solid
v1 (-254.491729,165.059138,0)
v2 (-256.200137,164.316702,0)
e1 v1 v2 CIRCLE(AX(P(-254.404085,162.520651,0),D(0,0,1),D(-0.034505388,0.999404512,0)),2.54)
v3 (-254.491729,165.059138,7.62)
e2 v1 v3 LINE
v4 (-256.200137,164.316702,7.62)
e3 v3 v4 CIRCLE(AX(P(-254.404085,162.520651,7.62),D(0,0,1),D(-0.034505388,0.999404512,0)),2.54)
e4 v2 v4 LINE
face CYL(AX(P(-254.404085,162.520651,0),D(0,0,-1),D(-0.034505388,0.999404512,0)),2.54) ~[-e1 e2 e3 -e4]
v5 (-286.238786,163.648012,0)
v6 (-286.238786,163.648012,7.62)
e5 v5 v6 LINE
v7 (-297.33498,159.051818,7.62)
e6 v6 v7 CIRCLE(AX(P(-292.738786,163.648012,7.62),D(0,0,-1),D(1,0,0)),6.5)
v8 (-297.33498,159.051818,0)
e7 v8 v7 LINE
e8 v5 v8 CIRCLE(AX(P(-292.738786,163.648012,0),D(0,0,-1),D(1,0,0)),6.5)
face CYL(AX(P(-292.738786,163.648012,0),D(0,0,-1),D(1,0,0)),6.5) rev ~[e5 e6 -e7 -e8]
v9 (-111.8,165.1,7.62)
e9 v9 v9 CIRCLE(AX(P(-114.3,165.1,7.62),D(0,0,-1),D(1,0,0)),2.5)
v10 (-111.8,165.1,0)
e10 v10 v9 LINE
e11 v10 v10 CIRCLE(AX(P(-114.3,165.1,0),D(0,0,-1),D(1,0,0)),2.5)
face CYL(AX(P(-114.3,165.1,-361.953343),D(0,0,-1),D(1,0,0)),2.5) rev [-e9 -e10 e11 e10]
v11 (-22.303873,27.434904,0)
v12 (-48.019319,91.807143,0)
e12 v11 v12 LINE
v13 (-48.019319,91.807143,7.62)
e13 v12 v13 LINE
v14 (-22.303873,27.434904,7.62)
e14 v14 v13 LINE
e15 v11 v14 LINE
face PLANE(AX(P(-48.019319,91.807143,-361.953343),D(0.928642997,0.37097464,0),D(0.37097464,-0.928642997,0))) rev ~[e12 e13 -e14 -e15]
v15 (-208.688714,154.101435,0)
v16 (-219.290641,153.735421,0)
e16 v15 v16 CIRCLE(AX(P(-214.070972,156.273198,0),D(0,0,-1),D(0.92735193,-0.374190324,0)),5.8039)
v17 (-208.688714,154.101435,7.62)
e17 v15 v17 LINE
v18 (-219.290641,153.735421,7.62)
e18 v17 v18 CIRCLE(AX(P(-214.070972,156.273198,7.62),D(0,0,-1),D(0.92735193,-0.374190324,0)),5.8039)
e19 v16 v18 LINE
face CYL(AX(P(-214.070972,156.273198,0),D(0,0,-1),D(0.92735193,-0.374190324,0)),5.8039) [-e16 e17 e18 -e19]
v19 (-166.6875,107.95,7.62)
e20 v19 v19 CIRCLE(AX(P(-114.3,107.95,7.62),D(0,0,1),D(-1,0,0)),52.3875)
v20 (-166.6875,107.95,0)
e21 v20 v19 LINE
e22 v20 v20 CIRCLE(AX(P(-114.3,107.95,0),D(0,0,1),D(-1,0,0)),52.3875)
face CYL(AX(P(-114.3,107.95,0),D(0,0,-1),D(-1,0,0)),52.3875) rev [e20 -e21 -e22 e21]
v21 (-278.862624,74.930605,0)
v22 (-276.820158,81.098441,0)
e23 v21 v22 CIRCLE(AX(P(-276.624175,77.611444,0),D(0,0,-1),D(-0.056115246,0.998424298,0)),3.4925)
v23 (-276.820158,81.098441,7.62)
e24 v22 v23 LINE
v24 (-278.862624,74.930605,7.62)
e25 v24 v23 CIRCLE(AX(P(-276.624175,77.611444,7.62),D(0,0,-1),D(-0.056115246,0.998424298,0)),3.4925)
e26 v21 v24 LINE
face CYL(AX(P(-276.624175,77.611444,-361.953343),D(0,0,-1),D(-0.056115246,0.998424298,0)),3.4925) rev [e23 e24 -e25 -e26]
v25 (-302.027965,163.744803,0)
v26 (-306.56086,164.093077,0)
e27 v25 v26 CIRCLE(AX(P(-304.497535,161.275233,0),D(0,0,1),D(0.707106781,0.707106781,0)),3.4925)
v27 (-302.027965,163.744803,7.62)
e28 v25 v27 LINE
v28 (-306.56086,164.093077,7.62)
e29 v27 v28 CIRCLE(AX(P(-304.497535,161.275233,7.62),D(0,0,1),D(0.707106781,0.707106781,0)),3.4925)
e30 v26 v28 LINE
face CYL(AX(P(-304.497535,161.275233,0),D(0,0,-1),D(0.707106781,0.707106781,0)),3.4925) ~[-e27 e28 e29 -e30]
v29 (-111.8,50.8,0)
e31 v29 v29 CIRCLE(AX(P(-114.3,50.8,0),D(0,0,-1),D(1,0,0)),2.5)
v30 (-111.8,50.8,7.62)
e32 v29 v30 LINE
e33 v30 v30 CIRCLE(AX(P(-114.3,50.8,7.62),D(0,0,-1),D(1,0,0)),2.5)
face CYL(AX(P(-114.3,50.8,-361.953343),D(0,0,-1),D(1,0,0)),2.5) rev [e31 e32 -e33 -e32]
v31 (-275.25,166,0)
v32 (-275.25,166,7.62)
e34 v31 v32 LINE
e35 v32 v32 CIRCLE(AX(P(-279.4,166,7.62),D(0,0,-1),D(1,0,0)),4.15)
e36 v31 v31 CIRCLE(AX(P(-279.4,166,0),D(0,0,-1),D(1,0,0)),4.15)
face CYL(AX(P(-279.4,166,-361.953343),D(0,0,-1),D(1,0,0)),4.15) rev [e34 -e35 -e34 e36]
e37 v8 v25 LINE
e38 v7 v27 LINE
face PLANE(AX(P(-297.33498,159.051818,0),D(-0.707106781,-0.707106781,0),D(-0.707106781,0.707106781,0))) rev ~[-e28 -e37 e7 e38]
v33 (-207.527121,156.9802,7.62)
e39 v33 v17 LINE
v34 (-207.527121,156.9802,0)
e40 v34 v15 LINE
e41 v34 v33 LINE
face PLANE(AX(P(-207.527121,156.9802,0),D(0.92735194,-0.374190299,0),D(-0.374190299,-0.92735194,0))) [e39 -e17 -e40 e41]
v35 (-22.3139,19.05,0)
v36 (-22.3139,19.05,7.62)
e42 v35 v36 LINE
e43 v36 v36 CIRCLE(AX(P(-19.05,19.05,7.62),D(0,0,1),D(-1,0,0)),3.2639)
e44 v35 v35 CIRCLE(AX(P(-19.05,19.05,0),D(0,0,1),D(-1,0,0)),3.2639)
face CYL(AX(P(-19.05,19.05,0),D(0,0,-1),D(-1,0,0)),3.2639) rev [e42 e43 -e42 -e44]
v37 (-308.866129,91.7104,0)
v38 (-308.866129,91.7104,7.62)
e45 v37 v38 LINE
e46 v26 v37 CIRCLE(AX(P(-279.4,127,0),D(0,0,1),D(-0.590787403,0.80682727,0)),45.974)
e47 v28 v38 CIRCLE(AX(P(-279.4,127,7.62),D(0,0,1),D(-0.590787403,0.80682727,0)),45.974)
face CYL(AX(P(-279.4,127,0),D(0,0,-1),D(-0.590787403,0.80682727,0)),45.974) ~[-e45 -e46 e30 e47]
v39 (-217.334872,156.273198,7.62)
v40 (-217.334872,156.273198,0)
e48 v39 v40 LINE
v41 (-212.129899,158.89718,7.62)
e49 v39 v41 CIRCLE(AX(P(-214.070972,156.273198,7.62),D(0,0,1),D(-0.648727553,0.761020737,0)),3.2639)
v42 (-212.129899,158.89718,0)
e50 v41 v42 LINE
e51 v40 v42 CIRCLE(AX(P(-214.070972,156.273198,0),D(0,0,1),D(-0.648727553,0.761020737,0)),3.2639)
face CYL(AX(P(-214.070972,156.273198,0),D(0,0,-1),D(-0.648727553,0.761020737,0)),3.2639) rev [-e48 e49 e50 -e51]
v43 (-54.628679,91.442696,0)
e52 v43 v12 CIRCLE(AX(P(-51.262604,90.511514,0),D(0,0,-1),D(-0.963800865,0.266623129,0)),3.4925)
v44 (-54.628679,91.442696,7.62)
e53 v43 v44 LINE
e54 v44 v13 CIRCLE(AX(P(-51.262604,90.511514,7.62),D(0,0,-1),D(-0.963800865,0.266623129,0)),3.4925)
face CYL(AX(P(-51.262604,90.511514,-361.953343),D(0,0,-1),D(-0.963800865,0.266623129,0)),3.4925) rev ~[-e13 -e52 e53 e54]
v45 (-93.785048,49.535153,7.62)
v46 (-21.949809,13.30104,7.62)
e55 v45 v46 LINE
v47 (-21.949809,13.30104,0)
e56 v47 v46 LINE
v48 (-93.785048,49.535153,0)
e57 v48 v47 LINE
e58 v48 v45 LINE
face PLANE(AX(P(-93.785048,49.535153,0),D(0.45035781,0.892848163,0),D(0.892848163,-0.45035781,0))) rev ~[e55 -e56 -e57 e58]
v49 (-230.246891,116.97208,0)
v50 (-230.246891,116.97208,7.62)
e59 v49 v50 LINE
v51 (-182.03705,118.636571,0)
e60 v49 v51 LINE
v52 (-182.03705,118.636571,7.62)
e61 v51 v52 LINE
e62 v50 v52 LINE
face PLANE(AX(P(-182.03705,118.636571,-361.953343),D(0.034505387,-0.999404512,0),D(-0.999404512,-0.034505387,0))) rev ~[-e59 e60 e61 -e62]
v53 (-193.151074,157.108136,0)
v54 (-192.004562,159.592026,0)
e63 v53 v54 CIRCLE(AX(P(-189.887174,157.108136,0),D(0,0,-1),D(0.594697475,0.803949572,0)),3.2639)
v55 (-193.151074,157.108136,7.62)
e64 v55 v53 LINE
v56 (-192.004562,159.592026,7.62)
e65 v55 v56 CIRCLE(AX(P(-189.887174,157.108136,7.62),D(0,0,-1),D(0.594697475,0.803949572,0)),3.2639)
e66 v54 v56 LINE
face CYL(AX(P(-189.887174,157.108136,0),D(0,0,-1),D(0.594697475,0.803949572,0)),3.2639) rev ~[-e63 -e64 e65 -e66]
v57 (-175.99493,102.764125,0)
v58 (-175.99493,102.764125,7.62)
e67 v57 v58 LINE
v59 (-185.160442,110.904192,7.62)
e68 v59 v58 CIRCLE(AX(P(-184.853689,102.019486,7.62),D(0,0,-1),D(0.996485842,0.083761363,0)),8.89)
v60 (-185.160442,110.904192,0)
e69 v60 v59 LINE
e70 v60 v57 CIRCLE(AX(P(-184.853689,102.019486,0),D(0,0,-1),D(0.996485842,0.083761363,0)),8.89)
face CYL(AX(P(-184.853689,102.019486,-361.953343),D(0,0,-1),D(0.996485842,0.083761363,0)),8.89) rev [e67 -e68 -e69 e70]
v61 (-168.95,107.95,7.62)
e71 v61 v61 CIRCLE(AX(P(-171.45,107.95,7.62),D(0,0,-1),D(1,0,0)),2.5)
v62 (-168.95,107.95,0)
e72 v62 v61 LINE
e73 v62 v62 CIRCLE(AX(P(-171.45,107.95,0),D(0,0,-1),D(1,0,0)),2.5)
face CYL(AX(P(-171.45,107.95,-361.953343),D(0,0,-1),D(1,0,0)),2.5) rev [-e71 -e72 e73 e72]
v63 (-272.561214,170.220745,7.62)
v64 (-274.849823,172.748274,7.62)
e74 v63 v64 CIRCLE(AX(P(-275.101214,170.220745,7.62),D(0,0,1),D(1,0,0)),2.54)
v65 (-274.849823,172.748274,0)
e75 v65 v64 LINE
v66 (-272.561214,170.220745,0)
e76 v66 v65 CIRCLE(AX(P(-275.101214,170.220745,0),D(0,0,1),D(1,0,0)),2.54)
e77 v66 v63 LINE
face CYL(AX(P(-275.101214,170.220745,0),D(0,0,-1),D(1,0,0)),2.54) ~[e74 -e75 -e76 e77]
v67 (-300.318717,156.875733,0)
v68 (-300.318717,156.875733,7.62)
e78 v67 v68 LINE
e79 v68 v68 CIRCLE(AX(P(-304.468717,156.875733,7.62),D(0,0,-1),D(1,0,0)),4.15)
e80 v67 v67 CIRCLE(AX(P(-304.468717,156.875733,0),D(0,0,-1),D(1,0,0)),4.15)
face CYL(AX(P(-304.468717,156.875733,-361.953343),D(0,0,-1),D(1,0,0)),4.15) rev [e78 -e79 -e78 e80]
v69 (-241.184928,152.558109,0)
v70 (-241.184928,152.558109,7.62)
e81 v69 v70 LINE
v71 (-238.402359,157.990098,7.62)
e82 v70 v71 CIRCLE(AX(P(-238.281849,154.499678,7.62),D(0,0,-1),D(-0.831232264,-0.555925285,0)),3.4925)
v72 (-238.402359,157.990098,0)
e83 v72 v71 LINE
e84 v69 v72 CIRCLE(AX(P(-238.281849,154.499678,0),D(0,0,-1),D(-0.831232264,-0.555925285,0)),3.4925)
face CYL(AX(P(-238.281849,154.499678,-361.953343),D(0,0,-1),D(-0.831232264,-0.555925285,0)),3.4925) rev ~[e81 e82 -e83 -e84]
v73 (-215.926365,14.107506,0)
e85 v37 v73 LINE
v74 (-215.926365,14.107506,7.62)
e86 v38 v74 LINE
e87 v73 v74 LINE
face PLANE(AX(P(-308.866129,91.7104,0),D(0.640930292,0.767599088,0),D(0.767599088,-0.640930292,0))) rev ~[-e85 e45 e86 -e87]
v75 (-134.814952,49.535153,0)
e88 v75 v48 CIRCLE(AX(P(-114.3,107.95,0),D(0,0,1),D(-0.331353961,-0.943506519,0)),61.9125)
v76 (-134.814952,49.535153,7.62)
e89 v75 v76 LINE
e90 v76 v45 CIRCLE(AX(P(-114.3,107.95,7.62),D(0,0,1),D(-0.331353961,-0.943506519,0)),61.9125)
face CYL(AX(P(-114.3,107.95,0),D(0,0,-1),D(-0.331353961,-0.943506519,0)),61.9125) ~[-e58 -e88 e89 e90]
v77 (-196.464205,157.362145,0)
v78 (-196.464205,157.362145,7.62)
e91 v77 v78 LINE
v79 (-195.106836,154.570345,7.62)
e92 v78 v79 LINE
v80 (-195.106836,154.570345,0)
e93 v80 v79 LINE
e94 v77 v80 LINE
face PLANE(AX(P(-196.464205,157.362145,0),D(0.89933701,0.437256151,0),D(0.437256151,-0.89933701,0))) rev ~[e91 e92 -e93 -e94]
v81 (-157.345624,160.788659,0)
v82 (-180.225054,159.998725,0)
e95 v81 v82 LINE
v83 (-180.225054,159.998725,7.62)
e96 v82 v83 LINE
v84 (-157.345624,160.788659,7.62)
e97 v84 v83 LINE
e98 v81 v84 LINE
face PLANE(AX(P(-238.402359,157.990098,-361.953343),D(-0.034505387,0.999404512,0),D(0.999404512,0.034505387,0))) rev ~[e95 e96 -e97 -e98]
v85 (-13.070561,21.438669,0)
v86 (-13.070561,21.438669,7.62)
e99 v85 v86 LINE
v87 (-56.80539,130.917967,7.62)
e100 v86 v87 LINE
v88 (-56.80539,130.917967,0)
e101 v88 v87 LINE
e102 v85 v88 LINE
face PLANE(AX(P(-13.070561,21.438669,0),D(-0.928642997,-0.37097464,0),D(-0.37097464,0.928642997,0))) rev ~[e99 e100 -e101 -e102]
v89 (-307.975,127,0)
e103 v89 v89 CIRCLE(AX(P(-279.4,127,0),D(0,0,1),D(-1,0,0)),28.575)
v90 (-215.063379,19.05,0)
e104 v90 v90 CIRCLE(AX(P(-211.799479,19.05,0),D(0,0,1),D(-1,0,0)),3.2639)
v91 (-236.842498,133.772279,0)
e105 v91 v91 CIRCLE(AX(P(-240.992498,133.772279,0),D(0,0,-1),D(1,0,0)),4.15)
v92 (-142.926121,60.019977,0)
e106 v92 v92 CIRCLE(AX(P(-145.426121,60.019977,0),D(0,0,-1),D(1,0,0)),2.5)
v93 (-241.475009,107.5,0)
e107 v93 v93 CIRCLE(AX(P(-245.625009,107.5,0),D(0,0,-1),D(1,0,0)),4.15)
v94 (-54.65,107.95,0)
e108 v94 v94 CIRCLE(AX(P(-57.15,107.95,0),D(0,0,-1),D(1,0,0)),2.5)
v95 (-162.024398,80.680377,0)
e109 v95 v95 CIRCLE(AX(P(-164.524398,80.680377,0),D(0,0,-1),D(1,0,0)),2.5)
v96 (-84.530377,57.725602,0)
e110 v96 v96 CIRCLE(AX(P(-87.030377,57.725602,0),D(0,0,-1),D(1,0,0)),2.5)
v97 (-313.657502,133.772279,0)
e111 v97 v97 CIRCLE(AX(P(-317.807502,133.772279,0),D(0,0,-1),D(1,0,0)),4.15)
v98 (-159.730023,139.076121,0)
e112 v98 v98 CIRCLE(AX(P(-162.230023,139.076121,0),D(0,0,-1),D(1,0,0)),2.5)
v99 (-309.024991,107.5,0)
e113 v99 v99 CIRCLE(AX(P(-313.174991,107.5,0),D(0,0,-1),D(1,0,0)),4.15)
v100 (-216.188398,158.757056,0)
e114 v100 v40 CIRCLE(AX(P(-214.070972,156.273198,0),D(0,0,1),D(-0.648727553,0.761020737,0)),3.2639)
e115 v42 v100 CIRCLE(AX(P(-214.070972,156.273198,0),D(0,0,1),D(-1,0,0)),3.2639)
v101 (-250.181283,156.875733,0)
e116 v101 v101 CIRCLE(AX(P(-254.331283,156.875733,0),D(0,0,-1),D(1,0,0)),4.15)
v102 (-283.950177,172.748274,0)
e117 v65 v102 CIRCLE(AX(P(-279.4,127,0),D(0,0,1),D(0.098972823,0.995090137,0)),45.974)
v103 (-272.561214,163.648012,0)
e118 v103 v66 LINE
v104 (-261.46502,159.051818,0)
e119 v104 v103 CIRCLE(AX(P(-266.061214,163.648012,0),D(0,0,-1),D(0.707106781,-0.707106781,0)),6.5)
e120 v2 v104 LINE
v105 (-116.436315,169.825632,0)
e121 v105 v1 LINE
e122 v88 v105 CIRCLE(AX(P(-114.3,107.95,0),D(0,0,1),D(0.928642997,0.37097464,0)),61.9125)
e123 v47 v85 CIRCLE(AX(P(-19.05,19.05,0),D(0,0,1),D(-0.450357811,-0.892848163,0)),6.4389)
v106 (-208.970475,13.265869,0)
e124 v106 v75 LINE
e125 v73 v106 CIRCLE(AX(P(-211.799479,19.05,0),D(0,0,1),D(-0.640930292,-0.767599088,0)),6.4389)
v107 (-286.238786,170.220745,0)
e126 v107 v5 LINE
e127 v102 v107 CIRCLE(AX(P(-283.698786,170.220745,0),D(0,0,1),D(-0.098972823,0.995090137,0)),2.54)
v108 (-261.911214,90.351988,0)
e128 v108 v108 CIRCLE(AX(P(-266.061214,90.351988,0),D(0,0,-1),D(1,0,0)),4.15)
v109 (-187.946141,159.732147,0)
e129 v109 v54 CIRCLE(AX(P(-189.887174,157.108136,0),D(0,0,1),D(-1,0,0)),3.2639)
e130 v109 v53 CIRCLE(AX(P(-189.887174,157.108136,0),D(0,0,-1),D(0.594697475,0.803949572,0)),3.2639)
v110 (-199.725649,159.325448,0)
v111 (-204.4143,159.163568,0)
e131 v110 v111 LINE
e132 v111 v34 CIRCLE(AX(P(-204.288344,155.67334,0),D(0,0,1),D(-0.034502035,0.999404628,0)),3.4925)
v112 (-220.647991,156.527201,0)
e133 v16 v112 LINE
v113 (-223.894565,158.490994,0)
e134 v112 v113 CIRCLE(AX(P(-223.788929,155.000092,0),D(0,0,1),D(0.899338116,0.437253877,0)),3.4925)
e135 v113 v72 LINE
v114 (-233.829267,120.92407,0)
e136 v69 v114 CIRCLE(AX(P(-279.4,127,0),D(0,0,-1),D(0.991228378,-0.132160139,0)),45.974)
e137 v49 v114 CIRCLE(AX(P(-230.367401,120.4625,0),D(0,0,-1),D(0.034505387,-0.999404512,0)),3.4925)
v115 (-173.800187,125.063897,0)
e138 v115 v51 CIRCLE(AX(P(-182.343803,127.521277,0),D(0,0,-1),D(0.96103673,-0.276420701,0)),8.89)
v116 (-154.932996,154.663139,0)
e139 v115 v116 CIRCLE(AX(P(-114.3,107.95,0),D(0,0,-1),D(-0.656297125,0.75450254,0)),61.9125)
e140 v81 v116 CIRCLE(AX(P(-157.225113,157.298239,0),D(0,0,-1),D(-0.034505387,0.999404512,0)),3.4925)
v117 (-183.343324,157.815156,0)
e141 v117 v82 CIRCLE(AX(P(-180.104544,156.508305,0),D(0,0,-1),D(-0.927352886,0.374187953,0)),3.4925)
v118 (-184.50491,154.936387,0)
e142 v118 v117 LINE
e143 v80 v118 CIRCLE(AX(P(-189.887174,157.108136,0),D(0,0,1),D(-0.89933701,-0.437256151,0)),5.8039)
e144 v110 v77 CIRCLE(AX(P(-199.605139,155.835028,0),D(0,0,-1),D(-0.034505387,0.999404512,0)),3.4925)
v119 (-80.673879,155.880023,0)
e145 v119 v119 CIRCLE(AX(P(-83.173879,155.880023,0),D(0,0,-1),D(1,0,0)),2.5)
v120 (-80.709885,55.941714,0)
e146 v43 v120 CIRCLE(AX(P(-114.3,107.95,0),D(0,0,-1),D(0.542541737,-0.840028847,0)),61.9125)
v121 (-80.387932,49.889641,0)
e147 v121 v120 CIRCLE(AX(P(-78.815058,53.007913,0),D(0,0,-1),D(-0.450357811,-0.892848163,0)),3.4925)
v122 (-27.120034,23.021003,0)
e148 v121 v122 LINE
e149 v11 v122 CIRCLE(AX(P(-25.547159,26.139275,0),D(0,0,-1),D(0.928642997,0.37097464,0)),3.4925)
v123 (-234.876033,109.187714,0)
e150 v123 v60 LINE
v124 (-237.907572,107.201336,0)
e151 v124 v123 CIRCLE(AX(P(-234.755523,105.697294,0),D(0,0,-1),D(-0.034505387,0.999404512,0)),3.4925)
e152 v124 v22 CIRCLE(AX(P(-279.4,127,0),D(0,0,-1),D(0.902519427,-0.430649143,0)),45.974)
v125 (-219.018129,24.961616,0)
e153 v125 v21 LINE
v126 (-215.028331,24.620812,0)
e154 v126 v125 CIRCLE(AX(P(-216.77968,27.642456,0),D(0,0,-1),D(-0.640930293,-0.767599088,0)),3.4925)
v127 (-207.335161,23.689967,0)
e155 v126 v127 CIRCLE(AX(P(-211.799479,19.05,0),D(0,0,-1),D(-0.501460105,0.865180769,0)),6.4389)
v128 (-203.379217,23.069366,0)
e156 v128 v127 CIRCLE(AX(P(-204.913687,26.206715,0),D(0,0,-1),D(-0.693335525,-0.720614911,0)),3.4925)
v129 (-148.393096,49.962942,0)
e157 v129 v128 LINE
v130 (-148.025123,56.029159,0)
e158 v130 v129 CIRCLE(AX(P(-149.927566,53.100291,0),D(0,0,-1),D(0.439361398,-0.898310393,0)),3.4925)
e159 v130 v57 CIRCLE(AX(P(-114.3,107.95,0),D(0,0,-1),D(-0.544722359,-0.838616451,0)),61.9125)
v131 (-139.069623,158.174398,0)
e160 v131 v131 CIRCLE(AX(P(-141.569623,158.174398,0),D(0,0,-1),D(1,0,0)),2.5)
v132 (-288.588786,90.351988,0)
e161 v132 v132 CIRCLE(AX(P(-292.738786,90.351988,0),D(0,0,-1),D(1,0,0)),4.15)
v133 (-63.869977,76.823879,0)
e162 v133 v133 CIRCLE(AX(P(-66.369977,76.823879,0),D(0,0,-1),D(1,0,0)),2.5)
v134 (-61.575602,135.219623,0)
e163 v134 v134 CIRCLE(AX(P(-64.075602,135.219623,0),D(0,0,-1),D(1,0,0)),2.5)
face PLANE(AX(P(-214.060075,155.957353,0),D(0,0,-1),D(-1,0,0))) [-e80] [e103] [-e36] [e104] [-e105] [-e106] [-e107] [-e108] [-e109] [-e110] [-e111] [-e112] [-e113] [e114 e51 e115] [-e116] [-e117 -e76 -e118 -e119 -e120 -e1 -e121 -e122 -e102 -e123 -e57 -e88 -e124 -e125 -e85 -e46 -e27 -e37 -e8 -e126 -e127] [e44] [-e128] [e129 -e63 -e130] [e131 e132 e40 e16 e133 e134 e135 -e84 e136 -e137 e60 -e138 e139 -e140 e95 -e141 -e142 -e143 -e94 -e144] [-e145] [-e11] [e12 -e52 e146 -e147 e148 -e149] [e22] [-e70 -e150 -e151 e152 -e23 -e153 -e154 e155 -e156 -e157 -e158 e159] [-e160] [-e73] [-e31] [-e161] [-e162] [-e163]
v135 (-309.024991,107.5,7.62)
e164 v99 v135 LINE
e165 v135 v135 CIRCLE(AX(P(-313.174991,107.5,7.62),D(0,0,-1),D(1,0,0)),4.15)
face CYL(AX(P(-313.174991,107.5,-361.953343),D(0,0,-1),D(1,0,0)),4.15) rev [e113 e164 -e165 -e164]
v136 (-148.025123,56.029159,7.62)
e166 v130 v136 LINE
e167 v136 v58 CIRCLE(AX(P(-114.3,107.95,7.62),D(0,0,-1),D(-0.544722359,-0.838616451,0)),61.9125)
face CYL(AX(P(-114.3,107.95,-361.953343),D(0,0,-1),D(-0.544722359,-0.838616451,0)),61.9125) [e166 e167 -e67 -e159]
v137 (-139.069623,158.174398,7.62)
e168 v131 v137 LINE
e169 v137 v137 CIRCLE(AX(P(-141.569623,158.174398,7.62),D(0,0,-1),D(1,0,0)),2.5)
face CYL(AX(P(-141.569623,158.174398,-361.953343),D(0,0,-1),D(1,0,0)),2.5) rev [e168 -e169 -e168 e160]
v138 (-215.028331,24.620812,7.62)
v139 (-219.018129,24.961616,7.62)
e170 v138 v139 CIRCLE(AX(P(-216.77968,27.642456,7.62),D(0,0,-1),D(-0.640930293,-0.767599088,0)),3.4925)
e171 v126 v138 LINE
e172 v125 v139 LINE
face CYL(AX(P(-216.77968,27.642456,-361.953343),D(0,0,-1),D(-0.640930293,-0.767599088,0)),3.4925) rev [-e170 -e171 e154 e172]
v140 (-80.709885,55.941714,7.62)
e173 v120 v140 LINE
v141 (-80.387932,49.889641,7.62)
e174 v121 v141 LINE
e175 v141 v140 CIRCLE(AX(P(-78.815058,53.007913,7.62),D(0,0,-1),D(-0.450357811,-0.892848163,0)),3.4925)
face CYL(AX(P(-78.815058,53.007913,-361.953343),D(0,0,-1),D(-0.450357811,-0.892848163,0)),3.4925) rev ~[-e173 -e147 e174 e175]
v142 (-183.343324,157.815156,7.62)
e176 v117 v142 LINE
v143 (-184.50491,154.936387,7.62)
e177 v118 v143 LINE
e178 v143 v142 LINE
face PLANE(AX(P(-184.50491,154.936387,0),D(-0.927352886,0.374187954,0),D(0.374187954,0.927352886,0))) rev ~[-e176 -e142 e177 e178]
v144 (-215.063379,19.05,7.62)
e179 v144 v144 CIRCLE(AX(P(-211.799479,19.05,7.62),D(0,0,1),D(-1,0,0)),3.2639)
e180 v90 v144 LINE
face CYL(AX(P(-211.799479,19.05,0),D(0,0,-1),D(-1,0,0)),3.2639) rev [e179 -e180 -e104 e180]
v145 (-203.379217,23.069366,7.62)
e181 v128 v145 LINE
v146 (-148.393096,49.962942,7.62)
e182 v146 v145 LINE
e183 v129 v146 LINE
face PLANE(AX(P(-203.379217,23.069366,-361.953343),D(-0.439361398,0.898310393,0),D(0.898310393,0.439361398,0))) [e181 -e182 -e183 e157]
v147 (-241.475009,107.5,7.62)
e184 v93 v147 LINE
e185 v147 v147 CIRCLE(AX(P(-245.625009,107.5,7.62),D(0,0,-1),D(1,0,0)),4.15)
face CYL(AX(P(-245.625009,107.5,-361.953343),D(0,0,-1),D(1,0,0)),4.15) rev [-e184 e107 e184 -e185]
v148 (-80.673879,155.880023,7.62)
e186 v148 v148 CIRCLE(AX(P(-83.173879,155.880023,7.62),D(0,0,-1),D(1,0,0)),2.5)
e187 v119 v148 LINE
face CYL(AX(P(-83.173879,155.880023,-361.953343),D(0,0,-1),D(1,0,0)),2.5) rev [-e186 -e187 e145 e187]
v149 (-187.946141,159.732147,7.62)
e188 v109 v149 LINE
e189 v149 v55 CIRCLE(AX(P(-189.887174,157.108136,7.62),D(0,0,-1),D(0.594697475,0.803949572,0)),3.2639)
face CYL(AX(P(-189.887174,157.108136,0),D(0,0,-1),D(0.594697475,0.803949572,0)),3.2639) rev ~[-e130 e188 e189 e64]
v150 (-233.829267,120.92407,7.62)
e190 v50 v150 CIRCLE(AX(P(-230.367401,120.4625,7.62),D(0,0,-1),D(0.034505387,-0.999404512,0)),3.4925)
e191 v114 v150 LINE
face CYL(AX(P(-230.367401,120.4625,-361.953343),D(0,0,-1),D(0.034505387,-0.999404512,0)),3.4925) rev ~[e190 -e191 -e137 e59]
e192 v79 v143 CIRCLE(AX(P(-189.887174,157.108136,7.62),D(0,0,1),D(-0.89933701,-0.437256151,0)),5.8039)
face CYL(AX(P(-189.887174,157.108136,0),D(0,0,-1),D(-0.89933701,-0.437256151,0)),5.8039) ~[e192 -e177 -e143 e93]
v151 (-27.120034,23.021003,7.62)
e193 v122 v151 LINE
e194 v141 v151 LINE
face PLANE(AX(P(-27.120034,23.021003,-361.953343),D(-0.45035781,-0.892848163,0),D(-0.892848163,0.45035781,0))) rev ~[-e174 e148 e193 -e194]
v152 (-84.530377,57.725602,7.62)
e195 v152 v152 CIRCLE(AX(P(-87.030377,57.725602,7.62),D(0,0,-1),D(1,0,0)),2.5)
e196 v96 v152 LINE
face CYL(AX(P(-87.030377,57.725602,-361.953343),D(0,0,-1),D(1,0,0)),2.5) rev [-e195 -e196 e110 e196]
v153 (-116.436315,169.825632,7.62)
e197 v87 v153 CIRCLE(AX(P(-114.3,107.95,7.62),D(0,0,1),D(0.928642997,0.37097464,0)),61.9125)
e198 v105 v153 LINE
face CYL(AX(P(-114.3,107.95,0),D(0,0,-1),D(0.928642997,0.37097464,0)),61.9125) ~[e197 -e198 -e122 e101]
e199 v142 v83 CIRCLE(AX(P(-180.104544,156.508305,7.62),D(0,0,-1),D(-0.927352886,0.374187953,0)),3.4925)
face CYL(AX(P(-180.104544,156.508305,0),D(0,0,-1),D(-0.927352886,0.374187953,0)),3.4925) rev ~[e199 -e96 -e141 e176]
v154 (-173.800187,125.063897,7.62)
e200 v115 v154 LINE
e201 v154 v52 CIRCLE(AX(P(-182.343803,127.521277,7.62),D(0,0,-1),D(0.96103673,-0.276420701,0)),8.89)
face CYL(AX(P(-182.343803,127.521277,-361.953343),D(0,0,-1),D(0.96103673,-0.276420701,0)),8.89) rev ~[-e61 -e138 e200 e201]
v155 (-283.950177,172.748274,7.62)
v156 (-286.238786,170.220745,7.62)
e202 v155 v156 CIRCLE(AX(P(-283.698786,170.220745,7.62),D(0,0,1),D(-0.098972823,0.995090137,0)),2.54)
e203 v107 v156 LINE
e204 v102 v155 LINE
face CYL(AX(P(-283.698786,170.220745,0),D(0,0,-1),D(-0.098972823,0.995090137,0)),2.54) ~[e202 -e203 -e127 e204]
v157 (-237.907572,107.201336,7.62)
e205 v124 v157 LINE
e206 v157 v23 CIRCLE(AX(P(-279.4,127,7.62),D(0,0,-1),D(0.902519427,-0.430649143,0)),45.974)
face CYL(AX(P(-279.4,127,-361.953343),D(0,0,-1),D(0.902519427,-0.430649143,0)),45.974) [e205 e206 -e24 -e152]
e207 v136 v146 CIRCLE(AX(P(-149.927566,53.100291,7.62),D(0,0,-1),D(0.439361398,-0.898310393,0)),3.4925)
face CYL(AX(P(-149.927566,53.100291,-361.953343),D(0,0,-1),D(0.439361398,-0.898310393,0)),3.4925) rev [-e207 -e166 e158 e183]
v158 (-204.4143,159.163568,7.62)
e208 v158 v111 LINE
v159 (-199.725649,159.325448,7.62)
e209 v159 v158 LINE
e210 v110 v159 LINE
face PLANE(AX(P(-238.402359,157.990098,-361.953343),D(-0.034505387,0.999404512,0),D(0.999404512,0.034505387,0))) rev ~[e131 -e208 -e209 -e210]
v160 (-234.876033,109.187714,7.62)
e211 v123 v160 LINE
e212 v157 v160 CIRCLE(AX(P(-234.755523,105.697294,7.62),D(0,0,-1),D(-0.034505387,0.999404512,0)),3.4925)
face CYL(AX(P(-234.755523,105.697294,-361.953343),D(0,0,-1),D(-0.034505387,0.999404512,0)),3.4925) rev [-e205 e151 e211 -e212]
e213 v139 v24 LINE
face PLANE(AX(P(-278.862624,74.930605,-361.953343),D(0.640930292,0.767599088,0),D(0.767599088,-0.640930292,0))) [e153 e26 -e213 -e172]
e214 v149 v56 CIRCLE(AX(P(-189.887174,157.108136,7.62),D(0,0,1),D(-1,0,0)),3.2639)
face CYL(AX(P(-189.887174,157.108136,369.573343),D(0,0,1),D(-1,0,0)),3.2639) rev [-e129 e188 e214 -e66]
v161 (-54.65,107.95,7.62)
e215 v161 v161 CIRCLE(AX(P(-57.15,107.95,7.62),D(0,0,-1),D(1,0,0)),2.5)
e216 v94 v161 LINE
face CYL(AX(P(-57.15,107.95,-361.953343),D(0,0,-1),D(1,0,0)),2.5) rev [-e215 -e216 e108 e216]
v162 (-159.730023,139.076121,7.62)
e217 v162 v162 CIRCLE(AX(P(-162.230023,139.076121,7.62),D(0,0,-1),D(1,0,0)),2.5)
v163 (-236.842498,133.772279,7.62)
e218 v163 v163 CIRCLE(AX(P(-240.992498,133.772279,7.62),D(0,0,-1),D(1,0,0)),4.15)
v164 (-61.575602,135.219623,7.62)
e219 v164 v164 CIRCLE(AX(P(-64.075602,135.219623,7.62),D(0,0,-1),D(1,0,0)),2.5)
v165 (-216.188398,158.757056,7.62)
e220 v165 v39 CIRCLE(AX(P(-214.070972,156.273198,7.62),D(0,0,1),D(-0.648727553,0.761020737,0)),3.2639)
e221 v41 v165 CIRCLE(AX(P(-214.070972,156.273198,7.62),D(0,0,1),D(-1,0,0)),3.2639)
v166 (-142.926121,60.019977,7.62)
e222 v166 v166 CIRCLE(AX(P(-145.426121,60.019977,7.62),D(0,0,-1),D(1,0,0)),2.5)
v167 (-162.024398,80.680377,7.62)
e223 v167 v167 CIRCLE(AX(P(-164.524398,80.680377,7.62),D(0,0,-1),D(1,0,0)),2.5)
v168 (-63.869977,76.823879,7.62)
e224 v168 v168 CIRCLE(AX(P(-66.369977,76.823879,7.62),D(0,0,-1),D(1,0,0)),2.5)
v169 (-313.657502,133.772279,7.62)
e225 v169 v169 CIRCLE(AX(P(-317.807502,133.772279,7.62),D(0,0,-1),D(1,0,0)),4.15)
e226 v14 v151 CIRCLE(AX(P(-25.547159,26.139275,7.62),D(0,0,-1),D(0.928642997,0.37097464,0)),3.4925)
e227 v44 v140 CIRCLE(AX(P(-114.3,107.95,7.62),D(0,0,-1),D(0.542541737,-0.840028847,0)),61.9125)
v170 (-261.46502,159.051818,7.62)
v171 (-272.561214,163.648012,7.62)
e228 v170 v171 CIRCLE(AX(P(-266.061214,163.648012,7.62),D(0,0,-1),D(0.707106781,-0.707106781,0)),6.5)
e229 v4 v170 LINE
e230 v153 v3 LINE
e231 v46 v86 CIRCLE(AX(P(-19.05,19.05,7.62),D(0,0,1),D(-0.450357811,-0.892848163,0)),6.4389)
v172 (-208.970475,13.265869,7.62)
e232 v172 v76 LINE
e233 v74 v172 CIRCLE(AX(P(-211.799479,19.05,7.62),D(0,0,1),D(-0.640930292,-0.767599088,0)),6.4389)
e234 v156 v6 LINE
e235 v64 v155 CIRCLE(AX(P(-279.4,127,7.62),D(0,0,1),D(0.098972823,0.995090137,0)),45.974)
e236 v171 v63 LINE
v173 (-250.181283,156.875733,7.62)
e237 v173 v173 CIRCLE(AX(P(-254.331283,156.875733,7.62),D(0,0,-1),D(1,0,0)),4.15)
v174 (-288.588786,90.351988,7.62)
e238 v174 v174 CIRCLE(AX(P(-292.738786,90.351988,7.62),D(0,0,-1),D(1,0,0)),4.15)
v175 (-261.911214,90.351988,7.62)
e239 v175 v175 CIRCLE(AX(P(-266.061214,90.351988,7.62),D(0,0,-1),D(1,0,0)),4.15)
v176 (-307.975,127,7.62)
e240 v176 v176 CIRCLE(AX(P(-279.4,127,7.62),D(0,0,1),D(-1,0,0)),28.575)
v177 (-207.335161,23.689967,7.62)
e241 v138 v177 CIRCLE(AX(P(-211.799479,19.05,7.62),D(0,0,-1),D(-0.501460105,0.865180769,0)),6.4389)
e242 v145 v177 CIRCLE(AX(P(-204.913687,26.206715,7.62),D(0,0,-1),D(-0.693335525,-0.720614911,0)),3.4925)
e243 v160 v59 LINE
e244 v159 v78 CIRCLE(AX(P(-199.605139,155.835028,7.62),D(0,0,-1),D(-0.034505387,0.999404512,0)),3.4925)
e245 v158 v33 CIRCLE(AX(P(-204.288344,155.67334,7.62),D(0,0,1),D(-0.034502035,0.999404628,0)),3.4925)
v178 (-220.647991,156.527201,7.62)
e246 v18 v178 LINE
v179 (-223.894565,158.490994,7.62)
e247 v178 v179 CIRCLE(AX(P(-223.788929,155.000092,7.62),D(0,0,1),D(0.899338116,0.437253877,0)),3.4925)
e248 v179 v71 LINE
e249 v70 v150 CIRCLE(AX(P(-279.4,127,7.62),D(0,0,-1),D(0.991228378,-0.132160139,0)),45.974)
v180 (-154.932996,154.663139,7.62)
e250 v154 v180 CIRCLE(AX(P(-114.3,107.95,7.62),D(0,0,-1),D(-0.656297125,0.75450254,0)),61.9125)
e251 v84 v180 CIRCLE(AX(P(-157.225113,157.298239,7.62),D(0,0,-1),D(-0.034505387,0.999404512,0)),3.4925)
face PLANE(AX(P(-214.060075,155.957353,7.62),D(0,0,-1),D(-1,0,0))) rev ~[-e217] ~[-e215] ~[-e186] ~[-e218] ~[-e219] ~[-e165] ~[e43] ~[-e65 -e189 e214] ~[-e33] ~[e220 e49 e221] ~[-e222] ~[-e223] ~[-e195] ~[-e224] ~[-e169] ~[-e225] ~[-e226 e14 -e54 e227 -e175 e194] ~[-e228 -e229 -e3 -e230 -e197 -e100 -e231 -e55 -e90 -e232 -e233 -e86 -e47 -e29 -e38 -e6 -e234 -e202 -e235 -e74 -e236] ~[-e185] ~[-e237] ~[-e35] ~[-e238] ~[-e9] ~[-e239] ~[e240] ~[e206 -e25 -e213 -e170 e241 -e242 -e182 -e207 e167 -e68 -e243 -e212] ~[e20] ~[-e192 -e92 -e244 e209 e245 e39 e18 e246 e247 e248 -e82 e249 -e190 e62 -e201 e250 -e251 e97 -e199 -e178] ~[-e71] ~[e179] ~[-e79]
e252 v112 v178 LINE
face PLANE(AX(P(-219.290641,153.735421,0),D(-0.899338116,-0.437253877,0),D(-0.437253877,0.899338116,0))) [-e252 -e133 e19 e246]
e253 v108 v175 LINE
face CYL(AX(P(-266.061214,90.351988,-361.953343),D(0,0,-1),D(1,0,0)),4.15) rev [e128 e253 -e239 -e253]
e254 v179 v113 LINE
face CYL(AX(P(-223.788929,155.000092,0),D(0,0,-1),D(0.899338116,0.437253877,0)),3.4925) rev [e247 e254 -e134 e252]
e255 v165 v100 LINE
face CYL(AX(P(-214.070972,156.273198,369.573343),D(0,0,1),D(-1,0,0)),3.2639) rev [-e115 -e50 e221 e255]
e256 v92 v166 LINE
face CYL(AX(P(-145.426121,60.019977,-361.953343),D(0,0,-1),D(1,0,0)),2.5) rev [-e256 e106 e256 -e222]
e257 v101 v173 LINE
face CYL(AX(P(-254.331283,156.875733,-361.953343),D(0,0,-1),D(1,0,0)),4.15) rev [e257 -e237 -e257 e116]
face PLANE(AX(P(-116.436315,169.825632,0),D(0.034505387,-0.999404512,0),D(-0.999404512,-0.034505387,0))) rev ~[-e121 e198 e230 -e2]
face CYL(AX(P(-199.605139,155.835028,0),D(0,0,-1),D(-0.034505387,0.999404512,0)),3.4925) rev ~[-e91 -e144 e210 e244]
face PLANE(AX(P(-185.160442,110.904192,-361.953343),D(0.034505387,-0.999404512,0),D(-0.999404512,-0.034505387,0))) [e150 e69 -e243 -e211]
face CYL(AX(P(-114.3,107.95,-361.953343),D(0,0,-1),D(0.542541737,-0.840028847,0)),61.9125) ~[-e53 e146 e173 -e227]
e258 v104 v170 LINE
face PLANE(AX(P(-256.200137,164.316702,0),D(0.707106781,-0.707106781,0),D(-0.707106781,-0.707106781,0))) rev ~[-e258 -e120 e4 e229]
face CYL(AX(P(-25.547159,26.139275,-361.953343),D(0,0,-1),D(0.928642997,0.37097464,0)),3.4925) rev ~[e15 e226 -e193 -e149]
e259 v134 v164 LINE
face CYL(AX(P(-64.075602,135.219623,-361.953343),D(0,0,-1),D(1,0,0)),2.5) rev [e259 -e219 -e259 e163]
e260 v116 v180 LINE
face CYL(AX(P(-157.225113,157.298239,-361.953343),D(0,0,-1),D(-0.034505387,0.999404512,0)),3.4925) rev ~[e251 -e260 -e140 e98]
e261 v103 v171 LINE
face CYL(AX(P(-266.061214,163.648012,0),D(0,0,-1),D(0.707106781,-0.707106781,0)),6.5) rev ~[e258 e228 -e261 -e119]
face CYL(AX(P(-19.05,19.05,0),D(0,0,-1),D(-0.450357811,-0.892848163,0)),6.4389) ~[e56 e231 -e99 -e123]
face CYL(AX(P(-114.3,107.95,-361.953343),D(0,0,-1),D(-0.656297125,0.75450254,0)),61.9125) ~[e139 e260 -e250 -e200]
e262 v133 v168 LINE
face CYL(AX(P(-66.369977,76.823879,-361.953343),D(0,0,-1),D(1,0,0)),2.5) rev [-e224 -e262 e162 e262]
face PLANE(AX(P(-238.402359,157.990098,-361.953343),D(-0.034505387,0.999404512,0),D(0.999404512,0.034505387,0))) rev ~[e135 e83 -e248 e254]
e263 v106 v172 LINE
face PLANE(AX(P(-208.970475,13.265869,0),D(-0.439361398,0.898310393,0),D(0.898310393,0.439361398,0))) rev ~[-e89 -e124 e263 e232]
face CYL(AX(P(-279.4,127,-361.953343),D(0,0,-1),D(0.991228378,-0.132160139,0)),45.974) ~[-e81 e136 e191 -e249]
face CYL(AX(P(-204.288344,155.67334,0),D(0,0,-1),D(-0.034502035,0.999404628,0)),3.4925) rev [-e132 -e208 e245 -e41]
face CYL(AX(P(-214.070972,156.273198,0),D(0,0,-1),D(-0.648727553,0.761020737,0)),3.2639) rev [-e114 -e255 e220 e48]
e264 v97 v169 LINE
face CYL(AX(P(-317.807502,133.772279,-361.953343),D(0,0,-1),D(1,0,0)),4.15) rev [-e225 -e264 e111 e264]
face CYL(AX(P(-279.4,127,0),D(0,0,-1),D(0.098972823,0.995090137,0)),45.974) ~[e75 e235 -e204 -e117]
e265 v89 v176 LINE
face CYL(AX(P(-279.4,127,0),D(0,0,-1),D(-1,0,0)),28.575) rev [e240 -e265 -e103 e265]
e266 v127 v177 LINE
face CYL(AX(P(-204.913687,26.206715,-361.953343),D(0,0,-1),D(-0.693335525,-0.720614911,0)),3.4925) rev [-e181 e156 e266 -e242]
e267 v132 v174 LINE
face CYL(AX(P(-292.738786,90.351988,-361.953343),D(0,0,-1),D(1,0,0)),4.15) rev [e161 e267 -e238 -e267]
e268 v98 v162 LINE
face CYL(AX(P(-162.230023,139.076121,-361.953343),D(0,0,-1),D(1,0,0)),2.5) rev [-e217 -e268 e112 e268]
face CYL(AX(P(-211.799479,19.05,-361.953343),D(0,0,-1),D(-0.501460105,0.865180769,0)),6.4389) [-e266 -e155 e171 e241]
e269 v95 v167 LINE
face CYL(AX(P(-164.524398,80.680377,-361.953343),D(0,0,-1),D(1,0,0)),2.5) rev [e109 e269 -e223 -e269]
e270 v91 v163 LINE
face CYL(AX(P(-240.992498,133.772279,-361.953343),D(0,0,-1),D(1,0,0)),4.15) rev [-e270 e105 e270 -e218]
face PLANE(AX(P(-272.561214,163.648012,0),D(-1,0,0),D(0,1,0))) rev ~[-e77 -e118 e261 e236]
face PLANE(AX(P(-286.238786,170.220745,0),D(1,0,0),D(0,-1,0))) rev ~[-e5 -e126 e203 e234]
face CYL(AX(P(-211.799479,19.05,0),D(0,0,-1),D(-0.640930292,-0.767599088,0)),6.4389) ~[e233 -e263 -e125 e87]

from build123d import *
from build123d.topology import SkipClean

# Parameters (mm, degrees)
SKETCH2_R               = 28.575
SKETCH2_R_2             = 3.2639
SKETCH2_R_3             = 52.3875
BOSS_EXTRUDE1_DEPTH     = 7.62
CUT_EXTRUDE1_DEPTH      = 369.573342704
CUT_EXTRUDE1_DEPTH_BACK = 369.573342704
SKETCH3_R               = 4.15
SKETCH3_R_2             = 2.5
CUT_EXTRUDE2_DEPTH      = 369.573342704
CUT_EXTRUDE2_DEPTH_BACK = 369.573342704
BOSS_EXTRUDE2_DEPTH     = 7.62
CUT_EXTRUDE3_DEPTH      = 369.573342704
CUT_EXTRUDE3_DEPTH_BACK = 369.573342704
SKETCH12_R              = 3.2639


with BuildPart() as part:
    # Sketch2 → Boss-Extrude1 (new body)
    with BuildSketch(Plane.XY):
        with BuildLine():
            Line((-308.866129262, 91.710399516), (-215.926365234, 14.107506231))
            ThreePointArc((-215.926365234, 14.107506231), (-212.572921228, 12.657721799), (-208.970475069, 13.265869211))
            Line((-208.970475069, 13.265869211), (-134.814952137, 49.535152614))
            ThreePointArc((-134.814952137, 49.535152614), (-114.3, 46.0375), (-93.785047863, 49.535152614))
            Line((-93.785047863, 49.535152614), (-21.949808906, 13.301039962))
            ThreePointArc((-21.949808906, 13.301039962), (-14.699565425, 14.303090245), (-13.070560605, 21.438668609))
            Line((-13.070560605, 21.438668609), (-56.805390428, 130.917967399))
            ThreePointArc((-56.805390428, 130.917967399), (-80.468257666, 159.801430712), (-116.436314755, 169.825631839))
            Line((-116.436314755, 169.825631839), (-254.491729173, 165.059137987))
            ThreePointArc((-254.491729173, 165.059137987), (-255.416448823, 164.850182772), (-256.200136715, 164.316701751))
            Line((-256.200136715, 164.316701751), (-261.465020333, 159.051818133))
            ThreePointArc((-261.465020333, 159.051818133), (-268.548656721, 157.642795249), (-272.56121441, 163.648012211))
            Line((-272.56121441, 163.648012211), (-272.56121441, 170.220745001))
            ThreePointArc((-272.56121441, 170.220745001), (-273.218379704, 171.925600851), (-274.84982344, 172.748273949))
            ThreePointArc((-274.84982344, 172.748273949), (-279.4, 172.974), (-283.95017656, 172.748273949))
            ThreePointArc((-283.95017656, 172.748273949), (-285.581620296, 171.925600851), (-286.23878559, 170.220745001))
            Line((-286.23878559, 170.220745001), (-286.23878559, 163.648012211))
            ThreePointArc((-286.23878559, 163.648012211), (-290.251343279, 157.642795249), (-297.334979667, 159.051818133))
            Line((-297.334979667, 159.051818133), (-302.027964646, 163.744803112))
            ThreePointArc((-302.027964646, 163.744803112), (-304.229986022, 164.757469568), (-306.560860086, 164.09307692))
            ThreePointArc((-306.560860086, 164.09307692), (-325.350701602, 128.463454238), (-308.866129262, 91.710399516))
        make_face()
        with Locations(Location((-279.4, 127, 0), (0, 0, 180))):
            Circle(SKETCH2_R, mode=Mode.SUBTRACT)
        with Locations(Location((-19.05, 19.05, 0), (0, 0, 180))):
            Circle(SKETCH2_R_2, mode=Mode.SUBTRACT)
        with Locations(Location((-211.799479175, 19.05, 0), (0, 0, 180))):
            Circle(SKETCH2_R_2, mode=Mode.SUBTRACT)
        with Locations(Location((-114.3, 107.95, 0), (0, 0, 180))):
            Circle(SKETCH2_R_3, mode=Mode.SUBTRACT)
    extrude(amount=BOSS_EXTRUDE1_DEPTH)

    # Sketch3 → Cut-Extrude1 (cut, two sides: drawn at the far end of the back side and taken through both)
    with BuildSketch(Plane.XY.offset(7.62).offset(-CUT_EXTRUDE1_DEPTH_BACK)):
        with Locations((-279.4, 166)):
            Circle(SKETCH3_R)
        with Locations((-254.331283222, 156.875733282)):
            Circle(SKETCH3_R)
        with Locations((-240.992497633, 133.772278929)):
            Circle(SKETCH3_R)
        with Locations((-245.625009252, 107.5)):
            Circle(SKETCH3_R)
        with Locations((-266.06121441, 90.351987789)):
            Circle(SKETCH3_R)
        with Locations((-292.73878559, 90.351987789)):
            Circle(SKETCH3_R)
        with Locations((-313.174990748, 107.5)):
            Circle(SKETCH3_R)
        with Locations((-317.807502367, 133.772278929)):
            Circle(SKETCH3_R)
        with Locations((-304.468716778, 156.875733282)):
            Circle(SKETCH3_R)
        with Locations((-114.3, 165.1)):
            Circle(SKETCH3_R_2)
        with Locations((-57.15, 107.95)):
            Circle(SKETCH3_R_2)
        with Locations((-114.3, 50.8)):
            Circle(SKETCH3_R_2)
        with Locations((-171.45, 107.95)):
            Circle(SKETCH3_R_2)
        with Locations((-83.173879149, 155.880022958)):
            Circle(SKETCH3_R_2)
        with Locations((-64.075602011, 135.219623149)):
            Circle(SKETCH3_R_2)
        with Locations((-66.369977042, 76.823879149)):
            Circle(SKETCH3_R_2)
        with Locations((-87.030376851, 57.725602011)):
            Circle(SKETCH3_R_2)
        with Locations((-145.426120851, 60.019977042)):
            Circle(SKETCH3_R_2)
        with Locations((-164.524397989, 80.680376851)):
            Circle(SKETCH3_R_2)
        with Locations((-162.230022958, 139.076120851)):
            Circle(SKETCH3_R_2)
        with Locations((-141.569623149, 158.174397989)):
            Circle(SKETCH3_R_2)
    extrude(amount=CUT_EXTRUDE1_DEPTH + CUT_EXTRUDE1_DEPTH_BACK, mode=Mode.SUBTRACT)

    # Sketch4 → Cut-Extrude2 (cut, two sides: drawn at the far end of the back side and taken through both)
    with BuildSketch(Plane.XY.offset(7.62).offset(-CUT_EXTRUDE2_DEPTH_BACK)):
        with BuildLine():
            Line((-278.862624236, 74.930604639), (-219.018129111, 24.961616472))
            ThreePointArc((-219.018129111, 24.961616472), (-217.07692299, 24.16262829), (-215.028330647, 24.620812453))
            ThreePointArc((-215.028330647, 24.620812453), (-211.026037121, 25.442278201), (-207.335161059, 23.689967346))
            ThreePointArc((-207.335161059, 23.689967346), (-205.454963796, 22.756414152), (-203.379217054, 23.069365873))
            Line((-203.379217054, 23.069365873), (-148.393096208, 49.962941986))
            ThreePointArc((-148.393096208, 49.962941986), (-146.441473652, 52.888826728), (-148.025123052, 56.029158988))
            ThreePointArc((-148.025123052, 56.029158988), (-167.425190554, 76.155790074), (-175.994929719, 102.764124644))
            ThreePointArc((-175.994929719, 102.764124644), (-178.950352695, 108.666494642), (-185.160441746, 110.904192242))
            Line((-185.160441746, 110.904192242), (-234.876032851, 109.187714403))
            ThreePointArc((-234.876032851, 109.187714403), (-236.669637565, 108.61854745), (-237.907571885, 107.201336279))
            ThreePointArc((-237.907571885, 107.201336279), (-253.78883961, 88.82046177), (-276.820157686, 81.098441316))
            ThreePointArc((-276.820157686, 81.098441316), (-279.939618833, 78.709346862), (-278.862624236, 74.930604639))
        make_face()
        with BuildLine():
            Line((-48.019318761, 91.807143198), (-22.303873454, 27.434904147))
            ThreePointArc((-22.303873454, 27.434904147), (-23.187455951, 23.564521405), (-27.120033775, 23.021003007))
            Line((-27.120033775, 23.021003007), (-80.387932313, 49.889641079))
            ThreePointArc((-80.387932313, 49.889641079), (-82.302626367, 52.822384958), (-80.709884678, 55.941714036))
            ThreePointArc((-80.709884678, 55.941714036), (-64.405072396, 71.294115674), (-54.62867895, 91.442695545))
            ThreePointArc((-54.62867895, 91.442695545), (-51.454892751, 93.998716793), (-48.019318761, 91.807143198))
        make_face()
        with BuildLine():
            Line((-238.402359266, 157.990098388), (-157.34562354, 160.788658909))
            ThreePointArc((-157.34562354, 160.788658909), (-153.975579676, 158.578116117), (-154.932995767, 154.663138529))
            ThreePointArc((-154.932995767, 154.663138529), (-166.508163426, 141.228601653), (-173.800186524, 125.063896689))
            ThreePointArc((-173.800186524, 125.063896689), (-176.874809559, 120.512552862), (-182.037050163, 118.636570616))
            Line((-182.037050163, 118.636570616), (-230.24689137, 116.972080217))
            ThreePointArc((-230.24689137, 116.972080217), (-232.955010122, 118.116900866), (-233.829266544, 120.924069761))
            ThreePointArc((-233.829266544, 120.924069761), (-234.620613955, 137.412264953), (-241.184927886, 152.558109071))
            ThreePointArc((-241.184927886, 152.558109071), (-241.390248986, 156.091974283), (-238.402359266, 157.990098388))
        make_face()
    extrude(amount=CUT_EXTRUDE2_DEPTH + CUT_EXTRUDE2_DEPTH_BACK, mode=Mode.SUBTRACT)

    # Sketch11 → Boss-Extrude2 (add)
    with BuildSketch(Plane(origin=(0, 0, 0), x_dir=(-1, 0, 0), z_dir=(0, 0, -1))):
        with BuildLine():
            Line((207.527120949, 156.980199935), (208.688714257, 154.101435278))
            ThreePointArc((208.688714257, 154.101435278), (213.870721133, 150.472754139), (219.290640683, 153.735420862))
            Line((219.290640683, 153.735420862), (220.647990696, 156.527200807))
            ThreePointArc((220.647990696, 156.527200807), (221.987721601, 157.992282798), (223.909468964, 158.49051087))
            Line((223.909468964, 158.49051087), (221.735746538, 158.565579296))
            Line((221.735746538, 158.565579296), (216.188353984, 158.757094079))
            ThreePointArc((216.188353984, 158.757094079), (213.958358328, 153.011241823), (212.129932329, 158.897204543))
            Line((212.129932329, 158.897204543), (206.582539776, 159.088719327))
            Line((206.582539776, 159.088719327), (204.408842654, 159.163760977))
            ThreePointArc((204.408842654, 159.163760977), (206.291633306, 158.534177501), (207.527120949, 156.980199935))
        make_face()
        with BuildLine():
            ThreePointArc((199.725649115, 159.325448413), (197.803922582, 158.827213892), (196.464204543, 157.362145264))
            Line((196.464204543, 157.362145264), (195.106835972, 154.570345104))
            ThreePointArc((195.106835972, 154.570345104), (189.686908084, 151.307692234), (184.504910482, 154.936386616))
            Line((184.504910482, 154.936386616), (183.343323694, 157.815156094))
            ThreePointArc((183.343323694, 157.815156094), (182.107841163, 159.369135959), (180.225053803, 159.998724924))
            Line((180.225053803, 159.998724924), (182.398748746, 159.923676049))
            Line((182.398748746, 159.923676049), (187.94614081, 159.732147087))
            ThreePointArc((187.94614081, 159.732147087), (189.774551766, 153.846179694), (192.004562108, 159.59202625))
            Line((192.004562108, 159.59202625), (197.551954171, 159.400497289))
            Line((197.551954171, 159.400497289), (199.725649115, 159.325448413))
        make_face()
    extrude(amount=-BOSS_EXTRUDE2_DEPTH)

    # Sketch12 → Cut-Extrude3 (cut, two sides: drawn at the far end of the back side and taken through both)
    with SkipClean():  # the faces are left unmerged after this step: merging them gives an invalid solid
        with BuildSketch(Plane(origin=(0, 0, 0), x_dir=(-1, 0, 0), z_dir=(0, 0, -1)).offset(-CUT_EXTRUDE3_DEPTH_BACK)):
            with Locations((189.887173898, 157.10813608)):
                Circle(SKETCH12_R)
            with Locations((214.070972123, 156.273198497)):
                Circle(SKETCH12_R)
        extrude(amount=CUT_EXTRUDE3_DEPTH + CUT_EXTRUDE3_DEPTH_BACK, mode=Mode.SUBTRACT)


solid = part.part
